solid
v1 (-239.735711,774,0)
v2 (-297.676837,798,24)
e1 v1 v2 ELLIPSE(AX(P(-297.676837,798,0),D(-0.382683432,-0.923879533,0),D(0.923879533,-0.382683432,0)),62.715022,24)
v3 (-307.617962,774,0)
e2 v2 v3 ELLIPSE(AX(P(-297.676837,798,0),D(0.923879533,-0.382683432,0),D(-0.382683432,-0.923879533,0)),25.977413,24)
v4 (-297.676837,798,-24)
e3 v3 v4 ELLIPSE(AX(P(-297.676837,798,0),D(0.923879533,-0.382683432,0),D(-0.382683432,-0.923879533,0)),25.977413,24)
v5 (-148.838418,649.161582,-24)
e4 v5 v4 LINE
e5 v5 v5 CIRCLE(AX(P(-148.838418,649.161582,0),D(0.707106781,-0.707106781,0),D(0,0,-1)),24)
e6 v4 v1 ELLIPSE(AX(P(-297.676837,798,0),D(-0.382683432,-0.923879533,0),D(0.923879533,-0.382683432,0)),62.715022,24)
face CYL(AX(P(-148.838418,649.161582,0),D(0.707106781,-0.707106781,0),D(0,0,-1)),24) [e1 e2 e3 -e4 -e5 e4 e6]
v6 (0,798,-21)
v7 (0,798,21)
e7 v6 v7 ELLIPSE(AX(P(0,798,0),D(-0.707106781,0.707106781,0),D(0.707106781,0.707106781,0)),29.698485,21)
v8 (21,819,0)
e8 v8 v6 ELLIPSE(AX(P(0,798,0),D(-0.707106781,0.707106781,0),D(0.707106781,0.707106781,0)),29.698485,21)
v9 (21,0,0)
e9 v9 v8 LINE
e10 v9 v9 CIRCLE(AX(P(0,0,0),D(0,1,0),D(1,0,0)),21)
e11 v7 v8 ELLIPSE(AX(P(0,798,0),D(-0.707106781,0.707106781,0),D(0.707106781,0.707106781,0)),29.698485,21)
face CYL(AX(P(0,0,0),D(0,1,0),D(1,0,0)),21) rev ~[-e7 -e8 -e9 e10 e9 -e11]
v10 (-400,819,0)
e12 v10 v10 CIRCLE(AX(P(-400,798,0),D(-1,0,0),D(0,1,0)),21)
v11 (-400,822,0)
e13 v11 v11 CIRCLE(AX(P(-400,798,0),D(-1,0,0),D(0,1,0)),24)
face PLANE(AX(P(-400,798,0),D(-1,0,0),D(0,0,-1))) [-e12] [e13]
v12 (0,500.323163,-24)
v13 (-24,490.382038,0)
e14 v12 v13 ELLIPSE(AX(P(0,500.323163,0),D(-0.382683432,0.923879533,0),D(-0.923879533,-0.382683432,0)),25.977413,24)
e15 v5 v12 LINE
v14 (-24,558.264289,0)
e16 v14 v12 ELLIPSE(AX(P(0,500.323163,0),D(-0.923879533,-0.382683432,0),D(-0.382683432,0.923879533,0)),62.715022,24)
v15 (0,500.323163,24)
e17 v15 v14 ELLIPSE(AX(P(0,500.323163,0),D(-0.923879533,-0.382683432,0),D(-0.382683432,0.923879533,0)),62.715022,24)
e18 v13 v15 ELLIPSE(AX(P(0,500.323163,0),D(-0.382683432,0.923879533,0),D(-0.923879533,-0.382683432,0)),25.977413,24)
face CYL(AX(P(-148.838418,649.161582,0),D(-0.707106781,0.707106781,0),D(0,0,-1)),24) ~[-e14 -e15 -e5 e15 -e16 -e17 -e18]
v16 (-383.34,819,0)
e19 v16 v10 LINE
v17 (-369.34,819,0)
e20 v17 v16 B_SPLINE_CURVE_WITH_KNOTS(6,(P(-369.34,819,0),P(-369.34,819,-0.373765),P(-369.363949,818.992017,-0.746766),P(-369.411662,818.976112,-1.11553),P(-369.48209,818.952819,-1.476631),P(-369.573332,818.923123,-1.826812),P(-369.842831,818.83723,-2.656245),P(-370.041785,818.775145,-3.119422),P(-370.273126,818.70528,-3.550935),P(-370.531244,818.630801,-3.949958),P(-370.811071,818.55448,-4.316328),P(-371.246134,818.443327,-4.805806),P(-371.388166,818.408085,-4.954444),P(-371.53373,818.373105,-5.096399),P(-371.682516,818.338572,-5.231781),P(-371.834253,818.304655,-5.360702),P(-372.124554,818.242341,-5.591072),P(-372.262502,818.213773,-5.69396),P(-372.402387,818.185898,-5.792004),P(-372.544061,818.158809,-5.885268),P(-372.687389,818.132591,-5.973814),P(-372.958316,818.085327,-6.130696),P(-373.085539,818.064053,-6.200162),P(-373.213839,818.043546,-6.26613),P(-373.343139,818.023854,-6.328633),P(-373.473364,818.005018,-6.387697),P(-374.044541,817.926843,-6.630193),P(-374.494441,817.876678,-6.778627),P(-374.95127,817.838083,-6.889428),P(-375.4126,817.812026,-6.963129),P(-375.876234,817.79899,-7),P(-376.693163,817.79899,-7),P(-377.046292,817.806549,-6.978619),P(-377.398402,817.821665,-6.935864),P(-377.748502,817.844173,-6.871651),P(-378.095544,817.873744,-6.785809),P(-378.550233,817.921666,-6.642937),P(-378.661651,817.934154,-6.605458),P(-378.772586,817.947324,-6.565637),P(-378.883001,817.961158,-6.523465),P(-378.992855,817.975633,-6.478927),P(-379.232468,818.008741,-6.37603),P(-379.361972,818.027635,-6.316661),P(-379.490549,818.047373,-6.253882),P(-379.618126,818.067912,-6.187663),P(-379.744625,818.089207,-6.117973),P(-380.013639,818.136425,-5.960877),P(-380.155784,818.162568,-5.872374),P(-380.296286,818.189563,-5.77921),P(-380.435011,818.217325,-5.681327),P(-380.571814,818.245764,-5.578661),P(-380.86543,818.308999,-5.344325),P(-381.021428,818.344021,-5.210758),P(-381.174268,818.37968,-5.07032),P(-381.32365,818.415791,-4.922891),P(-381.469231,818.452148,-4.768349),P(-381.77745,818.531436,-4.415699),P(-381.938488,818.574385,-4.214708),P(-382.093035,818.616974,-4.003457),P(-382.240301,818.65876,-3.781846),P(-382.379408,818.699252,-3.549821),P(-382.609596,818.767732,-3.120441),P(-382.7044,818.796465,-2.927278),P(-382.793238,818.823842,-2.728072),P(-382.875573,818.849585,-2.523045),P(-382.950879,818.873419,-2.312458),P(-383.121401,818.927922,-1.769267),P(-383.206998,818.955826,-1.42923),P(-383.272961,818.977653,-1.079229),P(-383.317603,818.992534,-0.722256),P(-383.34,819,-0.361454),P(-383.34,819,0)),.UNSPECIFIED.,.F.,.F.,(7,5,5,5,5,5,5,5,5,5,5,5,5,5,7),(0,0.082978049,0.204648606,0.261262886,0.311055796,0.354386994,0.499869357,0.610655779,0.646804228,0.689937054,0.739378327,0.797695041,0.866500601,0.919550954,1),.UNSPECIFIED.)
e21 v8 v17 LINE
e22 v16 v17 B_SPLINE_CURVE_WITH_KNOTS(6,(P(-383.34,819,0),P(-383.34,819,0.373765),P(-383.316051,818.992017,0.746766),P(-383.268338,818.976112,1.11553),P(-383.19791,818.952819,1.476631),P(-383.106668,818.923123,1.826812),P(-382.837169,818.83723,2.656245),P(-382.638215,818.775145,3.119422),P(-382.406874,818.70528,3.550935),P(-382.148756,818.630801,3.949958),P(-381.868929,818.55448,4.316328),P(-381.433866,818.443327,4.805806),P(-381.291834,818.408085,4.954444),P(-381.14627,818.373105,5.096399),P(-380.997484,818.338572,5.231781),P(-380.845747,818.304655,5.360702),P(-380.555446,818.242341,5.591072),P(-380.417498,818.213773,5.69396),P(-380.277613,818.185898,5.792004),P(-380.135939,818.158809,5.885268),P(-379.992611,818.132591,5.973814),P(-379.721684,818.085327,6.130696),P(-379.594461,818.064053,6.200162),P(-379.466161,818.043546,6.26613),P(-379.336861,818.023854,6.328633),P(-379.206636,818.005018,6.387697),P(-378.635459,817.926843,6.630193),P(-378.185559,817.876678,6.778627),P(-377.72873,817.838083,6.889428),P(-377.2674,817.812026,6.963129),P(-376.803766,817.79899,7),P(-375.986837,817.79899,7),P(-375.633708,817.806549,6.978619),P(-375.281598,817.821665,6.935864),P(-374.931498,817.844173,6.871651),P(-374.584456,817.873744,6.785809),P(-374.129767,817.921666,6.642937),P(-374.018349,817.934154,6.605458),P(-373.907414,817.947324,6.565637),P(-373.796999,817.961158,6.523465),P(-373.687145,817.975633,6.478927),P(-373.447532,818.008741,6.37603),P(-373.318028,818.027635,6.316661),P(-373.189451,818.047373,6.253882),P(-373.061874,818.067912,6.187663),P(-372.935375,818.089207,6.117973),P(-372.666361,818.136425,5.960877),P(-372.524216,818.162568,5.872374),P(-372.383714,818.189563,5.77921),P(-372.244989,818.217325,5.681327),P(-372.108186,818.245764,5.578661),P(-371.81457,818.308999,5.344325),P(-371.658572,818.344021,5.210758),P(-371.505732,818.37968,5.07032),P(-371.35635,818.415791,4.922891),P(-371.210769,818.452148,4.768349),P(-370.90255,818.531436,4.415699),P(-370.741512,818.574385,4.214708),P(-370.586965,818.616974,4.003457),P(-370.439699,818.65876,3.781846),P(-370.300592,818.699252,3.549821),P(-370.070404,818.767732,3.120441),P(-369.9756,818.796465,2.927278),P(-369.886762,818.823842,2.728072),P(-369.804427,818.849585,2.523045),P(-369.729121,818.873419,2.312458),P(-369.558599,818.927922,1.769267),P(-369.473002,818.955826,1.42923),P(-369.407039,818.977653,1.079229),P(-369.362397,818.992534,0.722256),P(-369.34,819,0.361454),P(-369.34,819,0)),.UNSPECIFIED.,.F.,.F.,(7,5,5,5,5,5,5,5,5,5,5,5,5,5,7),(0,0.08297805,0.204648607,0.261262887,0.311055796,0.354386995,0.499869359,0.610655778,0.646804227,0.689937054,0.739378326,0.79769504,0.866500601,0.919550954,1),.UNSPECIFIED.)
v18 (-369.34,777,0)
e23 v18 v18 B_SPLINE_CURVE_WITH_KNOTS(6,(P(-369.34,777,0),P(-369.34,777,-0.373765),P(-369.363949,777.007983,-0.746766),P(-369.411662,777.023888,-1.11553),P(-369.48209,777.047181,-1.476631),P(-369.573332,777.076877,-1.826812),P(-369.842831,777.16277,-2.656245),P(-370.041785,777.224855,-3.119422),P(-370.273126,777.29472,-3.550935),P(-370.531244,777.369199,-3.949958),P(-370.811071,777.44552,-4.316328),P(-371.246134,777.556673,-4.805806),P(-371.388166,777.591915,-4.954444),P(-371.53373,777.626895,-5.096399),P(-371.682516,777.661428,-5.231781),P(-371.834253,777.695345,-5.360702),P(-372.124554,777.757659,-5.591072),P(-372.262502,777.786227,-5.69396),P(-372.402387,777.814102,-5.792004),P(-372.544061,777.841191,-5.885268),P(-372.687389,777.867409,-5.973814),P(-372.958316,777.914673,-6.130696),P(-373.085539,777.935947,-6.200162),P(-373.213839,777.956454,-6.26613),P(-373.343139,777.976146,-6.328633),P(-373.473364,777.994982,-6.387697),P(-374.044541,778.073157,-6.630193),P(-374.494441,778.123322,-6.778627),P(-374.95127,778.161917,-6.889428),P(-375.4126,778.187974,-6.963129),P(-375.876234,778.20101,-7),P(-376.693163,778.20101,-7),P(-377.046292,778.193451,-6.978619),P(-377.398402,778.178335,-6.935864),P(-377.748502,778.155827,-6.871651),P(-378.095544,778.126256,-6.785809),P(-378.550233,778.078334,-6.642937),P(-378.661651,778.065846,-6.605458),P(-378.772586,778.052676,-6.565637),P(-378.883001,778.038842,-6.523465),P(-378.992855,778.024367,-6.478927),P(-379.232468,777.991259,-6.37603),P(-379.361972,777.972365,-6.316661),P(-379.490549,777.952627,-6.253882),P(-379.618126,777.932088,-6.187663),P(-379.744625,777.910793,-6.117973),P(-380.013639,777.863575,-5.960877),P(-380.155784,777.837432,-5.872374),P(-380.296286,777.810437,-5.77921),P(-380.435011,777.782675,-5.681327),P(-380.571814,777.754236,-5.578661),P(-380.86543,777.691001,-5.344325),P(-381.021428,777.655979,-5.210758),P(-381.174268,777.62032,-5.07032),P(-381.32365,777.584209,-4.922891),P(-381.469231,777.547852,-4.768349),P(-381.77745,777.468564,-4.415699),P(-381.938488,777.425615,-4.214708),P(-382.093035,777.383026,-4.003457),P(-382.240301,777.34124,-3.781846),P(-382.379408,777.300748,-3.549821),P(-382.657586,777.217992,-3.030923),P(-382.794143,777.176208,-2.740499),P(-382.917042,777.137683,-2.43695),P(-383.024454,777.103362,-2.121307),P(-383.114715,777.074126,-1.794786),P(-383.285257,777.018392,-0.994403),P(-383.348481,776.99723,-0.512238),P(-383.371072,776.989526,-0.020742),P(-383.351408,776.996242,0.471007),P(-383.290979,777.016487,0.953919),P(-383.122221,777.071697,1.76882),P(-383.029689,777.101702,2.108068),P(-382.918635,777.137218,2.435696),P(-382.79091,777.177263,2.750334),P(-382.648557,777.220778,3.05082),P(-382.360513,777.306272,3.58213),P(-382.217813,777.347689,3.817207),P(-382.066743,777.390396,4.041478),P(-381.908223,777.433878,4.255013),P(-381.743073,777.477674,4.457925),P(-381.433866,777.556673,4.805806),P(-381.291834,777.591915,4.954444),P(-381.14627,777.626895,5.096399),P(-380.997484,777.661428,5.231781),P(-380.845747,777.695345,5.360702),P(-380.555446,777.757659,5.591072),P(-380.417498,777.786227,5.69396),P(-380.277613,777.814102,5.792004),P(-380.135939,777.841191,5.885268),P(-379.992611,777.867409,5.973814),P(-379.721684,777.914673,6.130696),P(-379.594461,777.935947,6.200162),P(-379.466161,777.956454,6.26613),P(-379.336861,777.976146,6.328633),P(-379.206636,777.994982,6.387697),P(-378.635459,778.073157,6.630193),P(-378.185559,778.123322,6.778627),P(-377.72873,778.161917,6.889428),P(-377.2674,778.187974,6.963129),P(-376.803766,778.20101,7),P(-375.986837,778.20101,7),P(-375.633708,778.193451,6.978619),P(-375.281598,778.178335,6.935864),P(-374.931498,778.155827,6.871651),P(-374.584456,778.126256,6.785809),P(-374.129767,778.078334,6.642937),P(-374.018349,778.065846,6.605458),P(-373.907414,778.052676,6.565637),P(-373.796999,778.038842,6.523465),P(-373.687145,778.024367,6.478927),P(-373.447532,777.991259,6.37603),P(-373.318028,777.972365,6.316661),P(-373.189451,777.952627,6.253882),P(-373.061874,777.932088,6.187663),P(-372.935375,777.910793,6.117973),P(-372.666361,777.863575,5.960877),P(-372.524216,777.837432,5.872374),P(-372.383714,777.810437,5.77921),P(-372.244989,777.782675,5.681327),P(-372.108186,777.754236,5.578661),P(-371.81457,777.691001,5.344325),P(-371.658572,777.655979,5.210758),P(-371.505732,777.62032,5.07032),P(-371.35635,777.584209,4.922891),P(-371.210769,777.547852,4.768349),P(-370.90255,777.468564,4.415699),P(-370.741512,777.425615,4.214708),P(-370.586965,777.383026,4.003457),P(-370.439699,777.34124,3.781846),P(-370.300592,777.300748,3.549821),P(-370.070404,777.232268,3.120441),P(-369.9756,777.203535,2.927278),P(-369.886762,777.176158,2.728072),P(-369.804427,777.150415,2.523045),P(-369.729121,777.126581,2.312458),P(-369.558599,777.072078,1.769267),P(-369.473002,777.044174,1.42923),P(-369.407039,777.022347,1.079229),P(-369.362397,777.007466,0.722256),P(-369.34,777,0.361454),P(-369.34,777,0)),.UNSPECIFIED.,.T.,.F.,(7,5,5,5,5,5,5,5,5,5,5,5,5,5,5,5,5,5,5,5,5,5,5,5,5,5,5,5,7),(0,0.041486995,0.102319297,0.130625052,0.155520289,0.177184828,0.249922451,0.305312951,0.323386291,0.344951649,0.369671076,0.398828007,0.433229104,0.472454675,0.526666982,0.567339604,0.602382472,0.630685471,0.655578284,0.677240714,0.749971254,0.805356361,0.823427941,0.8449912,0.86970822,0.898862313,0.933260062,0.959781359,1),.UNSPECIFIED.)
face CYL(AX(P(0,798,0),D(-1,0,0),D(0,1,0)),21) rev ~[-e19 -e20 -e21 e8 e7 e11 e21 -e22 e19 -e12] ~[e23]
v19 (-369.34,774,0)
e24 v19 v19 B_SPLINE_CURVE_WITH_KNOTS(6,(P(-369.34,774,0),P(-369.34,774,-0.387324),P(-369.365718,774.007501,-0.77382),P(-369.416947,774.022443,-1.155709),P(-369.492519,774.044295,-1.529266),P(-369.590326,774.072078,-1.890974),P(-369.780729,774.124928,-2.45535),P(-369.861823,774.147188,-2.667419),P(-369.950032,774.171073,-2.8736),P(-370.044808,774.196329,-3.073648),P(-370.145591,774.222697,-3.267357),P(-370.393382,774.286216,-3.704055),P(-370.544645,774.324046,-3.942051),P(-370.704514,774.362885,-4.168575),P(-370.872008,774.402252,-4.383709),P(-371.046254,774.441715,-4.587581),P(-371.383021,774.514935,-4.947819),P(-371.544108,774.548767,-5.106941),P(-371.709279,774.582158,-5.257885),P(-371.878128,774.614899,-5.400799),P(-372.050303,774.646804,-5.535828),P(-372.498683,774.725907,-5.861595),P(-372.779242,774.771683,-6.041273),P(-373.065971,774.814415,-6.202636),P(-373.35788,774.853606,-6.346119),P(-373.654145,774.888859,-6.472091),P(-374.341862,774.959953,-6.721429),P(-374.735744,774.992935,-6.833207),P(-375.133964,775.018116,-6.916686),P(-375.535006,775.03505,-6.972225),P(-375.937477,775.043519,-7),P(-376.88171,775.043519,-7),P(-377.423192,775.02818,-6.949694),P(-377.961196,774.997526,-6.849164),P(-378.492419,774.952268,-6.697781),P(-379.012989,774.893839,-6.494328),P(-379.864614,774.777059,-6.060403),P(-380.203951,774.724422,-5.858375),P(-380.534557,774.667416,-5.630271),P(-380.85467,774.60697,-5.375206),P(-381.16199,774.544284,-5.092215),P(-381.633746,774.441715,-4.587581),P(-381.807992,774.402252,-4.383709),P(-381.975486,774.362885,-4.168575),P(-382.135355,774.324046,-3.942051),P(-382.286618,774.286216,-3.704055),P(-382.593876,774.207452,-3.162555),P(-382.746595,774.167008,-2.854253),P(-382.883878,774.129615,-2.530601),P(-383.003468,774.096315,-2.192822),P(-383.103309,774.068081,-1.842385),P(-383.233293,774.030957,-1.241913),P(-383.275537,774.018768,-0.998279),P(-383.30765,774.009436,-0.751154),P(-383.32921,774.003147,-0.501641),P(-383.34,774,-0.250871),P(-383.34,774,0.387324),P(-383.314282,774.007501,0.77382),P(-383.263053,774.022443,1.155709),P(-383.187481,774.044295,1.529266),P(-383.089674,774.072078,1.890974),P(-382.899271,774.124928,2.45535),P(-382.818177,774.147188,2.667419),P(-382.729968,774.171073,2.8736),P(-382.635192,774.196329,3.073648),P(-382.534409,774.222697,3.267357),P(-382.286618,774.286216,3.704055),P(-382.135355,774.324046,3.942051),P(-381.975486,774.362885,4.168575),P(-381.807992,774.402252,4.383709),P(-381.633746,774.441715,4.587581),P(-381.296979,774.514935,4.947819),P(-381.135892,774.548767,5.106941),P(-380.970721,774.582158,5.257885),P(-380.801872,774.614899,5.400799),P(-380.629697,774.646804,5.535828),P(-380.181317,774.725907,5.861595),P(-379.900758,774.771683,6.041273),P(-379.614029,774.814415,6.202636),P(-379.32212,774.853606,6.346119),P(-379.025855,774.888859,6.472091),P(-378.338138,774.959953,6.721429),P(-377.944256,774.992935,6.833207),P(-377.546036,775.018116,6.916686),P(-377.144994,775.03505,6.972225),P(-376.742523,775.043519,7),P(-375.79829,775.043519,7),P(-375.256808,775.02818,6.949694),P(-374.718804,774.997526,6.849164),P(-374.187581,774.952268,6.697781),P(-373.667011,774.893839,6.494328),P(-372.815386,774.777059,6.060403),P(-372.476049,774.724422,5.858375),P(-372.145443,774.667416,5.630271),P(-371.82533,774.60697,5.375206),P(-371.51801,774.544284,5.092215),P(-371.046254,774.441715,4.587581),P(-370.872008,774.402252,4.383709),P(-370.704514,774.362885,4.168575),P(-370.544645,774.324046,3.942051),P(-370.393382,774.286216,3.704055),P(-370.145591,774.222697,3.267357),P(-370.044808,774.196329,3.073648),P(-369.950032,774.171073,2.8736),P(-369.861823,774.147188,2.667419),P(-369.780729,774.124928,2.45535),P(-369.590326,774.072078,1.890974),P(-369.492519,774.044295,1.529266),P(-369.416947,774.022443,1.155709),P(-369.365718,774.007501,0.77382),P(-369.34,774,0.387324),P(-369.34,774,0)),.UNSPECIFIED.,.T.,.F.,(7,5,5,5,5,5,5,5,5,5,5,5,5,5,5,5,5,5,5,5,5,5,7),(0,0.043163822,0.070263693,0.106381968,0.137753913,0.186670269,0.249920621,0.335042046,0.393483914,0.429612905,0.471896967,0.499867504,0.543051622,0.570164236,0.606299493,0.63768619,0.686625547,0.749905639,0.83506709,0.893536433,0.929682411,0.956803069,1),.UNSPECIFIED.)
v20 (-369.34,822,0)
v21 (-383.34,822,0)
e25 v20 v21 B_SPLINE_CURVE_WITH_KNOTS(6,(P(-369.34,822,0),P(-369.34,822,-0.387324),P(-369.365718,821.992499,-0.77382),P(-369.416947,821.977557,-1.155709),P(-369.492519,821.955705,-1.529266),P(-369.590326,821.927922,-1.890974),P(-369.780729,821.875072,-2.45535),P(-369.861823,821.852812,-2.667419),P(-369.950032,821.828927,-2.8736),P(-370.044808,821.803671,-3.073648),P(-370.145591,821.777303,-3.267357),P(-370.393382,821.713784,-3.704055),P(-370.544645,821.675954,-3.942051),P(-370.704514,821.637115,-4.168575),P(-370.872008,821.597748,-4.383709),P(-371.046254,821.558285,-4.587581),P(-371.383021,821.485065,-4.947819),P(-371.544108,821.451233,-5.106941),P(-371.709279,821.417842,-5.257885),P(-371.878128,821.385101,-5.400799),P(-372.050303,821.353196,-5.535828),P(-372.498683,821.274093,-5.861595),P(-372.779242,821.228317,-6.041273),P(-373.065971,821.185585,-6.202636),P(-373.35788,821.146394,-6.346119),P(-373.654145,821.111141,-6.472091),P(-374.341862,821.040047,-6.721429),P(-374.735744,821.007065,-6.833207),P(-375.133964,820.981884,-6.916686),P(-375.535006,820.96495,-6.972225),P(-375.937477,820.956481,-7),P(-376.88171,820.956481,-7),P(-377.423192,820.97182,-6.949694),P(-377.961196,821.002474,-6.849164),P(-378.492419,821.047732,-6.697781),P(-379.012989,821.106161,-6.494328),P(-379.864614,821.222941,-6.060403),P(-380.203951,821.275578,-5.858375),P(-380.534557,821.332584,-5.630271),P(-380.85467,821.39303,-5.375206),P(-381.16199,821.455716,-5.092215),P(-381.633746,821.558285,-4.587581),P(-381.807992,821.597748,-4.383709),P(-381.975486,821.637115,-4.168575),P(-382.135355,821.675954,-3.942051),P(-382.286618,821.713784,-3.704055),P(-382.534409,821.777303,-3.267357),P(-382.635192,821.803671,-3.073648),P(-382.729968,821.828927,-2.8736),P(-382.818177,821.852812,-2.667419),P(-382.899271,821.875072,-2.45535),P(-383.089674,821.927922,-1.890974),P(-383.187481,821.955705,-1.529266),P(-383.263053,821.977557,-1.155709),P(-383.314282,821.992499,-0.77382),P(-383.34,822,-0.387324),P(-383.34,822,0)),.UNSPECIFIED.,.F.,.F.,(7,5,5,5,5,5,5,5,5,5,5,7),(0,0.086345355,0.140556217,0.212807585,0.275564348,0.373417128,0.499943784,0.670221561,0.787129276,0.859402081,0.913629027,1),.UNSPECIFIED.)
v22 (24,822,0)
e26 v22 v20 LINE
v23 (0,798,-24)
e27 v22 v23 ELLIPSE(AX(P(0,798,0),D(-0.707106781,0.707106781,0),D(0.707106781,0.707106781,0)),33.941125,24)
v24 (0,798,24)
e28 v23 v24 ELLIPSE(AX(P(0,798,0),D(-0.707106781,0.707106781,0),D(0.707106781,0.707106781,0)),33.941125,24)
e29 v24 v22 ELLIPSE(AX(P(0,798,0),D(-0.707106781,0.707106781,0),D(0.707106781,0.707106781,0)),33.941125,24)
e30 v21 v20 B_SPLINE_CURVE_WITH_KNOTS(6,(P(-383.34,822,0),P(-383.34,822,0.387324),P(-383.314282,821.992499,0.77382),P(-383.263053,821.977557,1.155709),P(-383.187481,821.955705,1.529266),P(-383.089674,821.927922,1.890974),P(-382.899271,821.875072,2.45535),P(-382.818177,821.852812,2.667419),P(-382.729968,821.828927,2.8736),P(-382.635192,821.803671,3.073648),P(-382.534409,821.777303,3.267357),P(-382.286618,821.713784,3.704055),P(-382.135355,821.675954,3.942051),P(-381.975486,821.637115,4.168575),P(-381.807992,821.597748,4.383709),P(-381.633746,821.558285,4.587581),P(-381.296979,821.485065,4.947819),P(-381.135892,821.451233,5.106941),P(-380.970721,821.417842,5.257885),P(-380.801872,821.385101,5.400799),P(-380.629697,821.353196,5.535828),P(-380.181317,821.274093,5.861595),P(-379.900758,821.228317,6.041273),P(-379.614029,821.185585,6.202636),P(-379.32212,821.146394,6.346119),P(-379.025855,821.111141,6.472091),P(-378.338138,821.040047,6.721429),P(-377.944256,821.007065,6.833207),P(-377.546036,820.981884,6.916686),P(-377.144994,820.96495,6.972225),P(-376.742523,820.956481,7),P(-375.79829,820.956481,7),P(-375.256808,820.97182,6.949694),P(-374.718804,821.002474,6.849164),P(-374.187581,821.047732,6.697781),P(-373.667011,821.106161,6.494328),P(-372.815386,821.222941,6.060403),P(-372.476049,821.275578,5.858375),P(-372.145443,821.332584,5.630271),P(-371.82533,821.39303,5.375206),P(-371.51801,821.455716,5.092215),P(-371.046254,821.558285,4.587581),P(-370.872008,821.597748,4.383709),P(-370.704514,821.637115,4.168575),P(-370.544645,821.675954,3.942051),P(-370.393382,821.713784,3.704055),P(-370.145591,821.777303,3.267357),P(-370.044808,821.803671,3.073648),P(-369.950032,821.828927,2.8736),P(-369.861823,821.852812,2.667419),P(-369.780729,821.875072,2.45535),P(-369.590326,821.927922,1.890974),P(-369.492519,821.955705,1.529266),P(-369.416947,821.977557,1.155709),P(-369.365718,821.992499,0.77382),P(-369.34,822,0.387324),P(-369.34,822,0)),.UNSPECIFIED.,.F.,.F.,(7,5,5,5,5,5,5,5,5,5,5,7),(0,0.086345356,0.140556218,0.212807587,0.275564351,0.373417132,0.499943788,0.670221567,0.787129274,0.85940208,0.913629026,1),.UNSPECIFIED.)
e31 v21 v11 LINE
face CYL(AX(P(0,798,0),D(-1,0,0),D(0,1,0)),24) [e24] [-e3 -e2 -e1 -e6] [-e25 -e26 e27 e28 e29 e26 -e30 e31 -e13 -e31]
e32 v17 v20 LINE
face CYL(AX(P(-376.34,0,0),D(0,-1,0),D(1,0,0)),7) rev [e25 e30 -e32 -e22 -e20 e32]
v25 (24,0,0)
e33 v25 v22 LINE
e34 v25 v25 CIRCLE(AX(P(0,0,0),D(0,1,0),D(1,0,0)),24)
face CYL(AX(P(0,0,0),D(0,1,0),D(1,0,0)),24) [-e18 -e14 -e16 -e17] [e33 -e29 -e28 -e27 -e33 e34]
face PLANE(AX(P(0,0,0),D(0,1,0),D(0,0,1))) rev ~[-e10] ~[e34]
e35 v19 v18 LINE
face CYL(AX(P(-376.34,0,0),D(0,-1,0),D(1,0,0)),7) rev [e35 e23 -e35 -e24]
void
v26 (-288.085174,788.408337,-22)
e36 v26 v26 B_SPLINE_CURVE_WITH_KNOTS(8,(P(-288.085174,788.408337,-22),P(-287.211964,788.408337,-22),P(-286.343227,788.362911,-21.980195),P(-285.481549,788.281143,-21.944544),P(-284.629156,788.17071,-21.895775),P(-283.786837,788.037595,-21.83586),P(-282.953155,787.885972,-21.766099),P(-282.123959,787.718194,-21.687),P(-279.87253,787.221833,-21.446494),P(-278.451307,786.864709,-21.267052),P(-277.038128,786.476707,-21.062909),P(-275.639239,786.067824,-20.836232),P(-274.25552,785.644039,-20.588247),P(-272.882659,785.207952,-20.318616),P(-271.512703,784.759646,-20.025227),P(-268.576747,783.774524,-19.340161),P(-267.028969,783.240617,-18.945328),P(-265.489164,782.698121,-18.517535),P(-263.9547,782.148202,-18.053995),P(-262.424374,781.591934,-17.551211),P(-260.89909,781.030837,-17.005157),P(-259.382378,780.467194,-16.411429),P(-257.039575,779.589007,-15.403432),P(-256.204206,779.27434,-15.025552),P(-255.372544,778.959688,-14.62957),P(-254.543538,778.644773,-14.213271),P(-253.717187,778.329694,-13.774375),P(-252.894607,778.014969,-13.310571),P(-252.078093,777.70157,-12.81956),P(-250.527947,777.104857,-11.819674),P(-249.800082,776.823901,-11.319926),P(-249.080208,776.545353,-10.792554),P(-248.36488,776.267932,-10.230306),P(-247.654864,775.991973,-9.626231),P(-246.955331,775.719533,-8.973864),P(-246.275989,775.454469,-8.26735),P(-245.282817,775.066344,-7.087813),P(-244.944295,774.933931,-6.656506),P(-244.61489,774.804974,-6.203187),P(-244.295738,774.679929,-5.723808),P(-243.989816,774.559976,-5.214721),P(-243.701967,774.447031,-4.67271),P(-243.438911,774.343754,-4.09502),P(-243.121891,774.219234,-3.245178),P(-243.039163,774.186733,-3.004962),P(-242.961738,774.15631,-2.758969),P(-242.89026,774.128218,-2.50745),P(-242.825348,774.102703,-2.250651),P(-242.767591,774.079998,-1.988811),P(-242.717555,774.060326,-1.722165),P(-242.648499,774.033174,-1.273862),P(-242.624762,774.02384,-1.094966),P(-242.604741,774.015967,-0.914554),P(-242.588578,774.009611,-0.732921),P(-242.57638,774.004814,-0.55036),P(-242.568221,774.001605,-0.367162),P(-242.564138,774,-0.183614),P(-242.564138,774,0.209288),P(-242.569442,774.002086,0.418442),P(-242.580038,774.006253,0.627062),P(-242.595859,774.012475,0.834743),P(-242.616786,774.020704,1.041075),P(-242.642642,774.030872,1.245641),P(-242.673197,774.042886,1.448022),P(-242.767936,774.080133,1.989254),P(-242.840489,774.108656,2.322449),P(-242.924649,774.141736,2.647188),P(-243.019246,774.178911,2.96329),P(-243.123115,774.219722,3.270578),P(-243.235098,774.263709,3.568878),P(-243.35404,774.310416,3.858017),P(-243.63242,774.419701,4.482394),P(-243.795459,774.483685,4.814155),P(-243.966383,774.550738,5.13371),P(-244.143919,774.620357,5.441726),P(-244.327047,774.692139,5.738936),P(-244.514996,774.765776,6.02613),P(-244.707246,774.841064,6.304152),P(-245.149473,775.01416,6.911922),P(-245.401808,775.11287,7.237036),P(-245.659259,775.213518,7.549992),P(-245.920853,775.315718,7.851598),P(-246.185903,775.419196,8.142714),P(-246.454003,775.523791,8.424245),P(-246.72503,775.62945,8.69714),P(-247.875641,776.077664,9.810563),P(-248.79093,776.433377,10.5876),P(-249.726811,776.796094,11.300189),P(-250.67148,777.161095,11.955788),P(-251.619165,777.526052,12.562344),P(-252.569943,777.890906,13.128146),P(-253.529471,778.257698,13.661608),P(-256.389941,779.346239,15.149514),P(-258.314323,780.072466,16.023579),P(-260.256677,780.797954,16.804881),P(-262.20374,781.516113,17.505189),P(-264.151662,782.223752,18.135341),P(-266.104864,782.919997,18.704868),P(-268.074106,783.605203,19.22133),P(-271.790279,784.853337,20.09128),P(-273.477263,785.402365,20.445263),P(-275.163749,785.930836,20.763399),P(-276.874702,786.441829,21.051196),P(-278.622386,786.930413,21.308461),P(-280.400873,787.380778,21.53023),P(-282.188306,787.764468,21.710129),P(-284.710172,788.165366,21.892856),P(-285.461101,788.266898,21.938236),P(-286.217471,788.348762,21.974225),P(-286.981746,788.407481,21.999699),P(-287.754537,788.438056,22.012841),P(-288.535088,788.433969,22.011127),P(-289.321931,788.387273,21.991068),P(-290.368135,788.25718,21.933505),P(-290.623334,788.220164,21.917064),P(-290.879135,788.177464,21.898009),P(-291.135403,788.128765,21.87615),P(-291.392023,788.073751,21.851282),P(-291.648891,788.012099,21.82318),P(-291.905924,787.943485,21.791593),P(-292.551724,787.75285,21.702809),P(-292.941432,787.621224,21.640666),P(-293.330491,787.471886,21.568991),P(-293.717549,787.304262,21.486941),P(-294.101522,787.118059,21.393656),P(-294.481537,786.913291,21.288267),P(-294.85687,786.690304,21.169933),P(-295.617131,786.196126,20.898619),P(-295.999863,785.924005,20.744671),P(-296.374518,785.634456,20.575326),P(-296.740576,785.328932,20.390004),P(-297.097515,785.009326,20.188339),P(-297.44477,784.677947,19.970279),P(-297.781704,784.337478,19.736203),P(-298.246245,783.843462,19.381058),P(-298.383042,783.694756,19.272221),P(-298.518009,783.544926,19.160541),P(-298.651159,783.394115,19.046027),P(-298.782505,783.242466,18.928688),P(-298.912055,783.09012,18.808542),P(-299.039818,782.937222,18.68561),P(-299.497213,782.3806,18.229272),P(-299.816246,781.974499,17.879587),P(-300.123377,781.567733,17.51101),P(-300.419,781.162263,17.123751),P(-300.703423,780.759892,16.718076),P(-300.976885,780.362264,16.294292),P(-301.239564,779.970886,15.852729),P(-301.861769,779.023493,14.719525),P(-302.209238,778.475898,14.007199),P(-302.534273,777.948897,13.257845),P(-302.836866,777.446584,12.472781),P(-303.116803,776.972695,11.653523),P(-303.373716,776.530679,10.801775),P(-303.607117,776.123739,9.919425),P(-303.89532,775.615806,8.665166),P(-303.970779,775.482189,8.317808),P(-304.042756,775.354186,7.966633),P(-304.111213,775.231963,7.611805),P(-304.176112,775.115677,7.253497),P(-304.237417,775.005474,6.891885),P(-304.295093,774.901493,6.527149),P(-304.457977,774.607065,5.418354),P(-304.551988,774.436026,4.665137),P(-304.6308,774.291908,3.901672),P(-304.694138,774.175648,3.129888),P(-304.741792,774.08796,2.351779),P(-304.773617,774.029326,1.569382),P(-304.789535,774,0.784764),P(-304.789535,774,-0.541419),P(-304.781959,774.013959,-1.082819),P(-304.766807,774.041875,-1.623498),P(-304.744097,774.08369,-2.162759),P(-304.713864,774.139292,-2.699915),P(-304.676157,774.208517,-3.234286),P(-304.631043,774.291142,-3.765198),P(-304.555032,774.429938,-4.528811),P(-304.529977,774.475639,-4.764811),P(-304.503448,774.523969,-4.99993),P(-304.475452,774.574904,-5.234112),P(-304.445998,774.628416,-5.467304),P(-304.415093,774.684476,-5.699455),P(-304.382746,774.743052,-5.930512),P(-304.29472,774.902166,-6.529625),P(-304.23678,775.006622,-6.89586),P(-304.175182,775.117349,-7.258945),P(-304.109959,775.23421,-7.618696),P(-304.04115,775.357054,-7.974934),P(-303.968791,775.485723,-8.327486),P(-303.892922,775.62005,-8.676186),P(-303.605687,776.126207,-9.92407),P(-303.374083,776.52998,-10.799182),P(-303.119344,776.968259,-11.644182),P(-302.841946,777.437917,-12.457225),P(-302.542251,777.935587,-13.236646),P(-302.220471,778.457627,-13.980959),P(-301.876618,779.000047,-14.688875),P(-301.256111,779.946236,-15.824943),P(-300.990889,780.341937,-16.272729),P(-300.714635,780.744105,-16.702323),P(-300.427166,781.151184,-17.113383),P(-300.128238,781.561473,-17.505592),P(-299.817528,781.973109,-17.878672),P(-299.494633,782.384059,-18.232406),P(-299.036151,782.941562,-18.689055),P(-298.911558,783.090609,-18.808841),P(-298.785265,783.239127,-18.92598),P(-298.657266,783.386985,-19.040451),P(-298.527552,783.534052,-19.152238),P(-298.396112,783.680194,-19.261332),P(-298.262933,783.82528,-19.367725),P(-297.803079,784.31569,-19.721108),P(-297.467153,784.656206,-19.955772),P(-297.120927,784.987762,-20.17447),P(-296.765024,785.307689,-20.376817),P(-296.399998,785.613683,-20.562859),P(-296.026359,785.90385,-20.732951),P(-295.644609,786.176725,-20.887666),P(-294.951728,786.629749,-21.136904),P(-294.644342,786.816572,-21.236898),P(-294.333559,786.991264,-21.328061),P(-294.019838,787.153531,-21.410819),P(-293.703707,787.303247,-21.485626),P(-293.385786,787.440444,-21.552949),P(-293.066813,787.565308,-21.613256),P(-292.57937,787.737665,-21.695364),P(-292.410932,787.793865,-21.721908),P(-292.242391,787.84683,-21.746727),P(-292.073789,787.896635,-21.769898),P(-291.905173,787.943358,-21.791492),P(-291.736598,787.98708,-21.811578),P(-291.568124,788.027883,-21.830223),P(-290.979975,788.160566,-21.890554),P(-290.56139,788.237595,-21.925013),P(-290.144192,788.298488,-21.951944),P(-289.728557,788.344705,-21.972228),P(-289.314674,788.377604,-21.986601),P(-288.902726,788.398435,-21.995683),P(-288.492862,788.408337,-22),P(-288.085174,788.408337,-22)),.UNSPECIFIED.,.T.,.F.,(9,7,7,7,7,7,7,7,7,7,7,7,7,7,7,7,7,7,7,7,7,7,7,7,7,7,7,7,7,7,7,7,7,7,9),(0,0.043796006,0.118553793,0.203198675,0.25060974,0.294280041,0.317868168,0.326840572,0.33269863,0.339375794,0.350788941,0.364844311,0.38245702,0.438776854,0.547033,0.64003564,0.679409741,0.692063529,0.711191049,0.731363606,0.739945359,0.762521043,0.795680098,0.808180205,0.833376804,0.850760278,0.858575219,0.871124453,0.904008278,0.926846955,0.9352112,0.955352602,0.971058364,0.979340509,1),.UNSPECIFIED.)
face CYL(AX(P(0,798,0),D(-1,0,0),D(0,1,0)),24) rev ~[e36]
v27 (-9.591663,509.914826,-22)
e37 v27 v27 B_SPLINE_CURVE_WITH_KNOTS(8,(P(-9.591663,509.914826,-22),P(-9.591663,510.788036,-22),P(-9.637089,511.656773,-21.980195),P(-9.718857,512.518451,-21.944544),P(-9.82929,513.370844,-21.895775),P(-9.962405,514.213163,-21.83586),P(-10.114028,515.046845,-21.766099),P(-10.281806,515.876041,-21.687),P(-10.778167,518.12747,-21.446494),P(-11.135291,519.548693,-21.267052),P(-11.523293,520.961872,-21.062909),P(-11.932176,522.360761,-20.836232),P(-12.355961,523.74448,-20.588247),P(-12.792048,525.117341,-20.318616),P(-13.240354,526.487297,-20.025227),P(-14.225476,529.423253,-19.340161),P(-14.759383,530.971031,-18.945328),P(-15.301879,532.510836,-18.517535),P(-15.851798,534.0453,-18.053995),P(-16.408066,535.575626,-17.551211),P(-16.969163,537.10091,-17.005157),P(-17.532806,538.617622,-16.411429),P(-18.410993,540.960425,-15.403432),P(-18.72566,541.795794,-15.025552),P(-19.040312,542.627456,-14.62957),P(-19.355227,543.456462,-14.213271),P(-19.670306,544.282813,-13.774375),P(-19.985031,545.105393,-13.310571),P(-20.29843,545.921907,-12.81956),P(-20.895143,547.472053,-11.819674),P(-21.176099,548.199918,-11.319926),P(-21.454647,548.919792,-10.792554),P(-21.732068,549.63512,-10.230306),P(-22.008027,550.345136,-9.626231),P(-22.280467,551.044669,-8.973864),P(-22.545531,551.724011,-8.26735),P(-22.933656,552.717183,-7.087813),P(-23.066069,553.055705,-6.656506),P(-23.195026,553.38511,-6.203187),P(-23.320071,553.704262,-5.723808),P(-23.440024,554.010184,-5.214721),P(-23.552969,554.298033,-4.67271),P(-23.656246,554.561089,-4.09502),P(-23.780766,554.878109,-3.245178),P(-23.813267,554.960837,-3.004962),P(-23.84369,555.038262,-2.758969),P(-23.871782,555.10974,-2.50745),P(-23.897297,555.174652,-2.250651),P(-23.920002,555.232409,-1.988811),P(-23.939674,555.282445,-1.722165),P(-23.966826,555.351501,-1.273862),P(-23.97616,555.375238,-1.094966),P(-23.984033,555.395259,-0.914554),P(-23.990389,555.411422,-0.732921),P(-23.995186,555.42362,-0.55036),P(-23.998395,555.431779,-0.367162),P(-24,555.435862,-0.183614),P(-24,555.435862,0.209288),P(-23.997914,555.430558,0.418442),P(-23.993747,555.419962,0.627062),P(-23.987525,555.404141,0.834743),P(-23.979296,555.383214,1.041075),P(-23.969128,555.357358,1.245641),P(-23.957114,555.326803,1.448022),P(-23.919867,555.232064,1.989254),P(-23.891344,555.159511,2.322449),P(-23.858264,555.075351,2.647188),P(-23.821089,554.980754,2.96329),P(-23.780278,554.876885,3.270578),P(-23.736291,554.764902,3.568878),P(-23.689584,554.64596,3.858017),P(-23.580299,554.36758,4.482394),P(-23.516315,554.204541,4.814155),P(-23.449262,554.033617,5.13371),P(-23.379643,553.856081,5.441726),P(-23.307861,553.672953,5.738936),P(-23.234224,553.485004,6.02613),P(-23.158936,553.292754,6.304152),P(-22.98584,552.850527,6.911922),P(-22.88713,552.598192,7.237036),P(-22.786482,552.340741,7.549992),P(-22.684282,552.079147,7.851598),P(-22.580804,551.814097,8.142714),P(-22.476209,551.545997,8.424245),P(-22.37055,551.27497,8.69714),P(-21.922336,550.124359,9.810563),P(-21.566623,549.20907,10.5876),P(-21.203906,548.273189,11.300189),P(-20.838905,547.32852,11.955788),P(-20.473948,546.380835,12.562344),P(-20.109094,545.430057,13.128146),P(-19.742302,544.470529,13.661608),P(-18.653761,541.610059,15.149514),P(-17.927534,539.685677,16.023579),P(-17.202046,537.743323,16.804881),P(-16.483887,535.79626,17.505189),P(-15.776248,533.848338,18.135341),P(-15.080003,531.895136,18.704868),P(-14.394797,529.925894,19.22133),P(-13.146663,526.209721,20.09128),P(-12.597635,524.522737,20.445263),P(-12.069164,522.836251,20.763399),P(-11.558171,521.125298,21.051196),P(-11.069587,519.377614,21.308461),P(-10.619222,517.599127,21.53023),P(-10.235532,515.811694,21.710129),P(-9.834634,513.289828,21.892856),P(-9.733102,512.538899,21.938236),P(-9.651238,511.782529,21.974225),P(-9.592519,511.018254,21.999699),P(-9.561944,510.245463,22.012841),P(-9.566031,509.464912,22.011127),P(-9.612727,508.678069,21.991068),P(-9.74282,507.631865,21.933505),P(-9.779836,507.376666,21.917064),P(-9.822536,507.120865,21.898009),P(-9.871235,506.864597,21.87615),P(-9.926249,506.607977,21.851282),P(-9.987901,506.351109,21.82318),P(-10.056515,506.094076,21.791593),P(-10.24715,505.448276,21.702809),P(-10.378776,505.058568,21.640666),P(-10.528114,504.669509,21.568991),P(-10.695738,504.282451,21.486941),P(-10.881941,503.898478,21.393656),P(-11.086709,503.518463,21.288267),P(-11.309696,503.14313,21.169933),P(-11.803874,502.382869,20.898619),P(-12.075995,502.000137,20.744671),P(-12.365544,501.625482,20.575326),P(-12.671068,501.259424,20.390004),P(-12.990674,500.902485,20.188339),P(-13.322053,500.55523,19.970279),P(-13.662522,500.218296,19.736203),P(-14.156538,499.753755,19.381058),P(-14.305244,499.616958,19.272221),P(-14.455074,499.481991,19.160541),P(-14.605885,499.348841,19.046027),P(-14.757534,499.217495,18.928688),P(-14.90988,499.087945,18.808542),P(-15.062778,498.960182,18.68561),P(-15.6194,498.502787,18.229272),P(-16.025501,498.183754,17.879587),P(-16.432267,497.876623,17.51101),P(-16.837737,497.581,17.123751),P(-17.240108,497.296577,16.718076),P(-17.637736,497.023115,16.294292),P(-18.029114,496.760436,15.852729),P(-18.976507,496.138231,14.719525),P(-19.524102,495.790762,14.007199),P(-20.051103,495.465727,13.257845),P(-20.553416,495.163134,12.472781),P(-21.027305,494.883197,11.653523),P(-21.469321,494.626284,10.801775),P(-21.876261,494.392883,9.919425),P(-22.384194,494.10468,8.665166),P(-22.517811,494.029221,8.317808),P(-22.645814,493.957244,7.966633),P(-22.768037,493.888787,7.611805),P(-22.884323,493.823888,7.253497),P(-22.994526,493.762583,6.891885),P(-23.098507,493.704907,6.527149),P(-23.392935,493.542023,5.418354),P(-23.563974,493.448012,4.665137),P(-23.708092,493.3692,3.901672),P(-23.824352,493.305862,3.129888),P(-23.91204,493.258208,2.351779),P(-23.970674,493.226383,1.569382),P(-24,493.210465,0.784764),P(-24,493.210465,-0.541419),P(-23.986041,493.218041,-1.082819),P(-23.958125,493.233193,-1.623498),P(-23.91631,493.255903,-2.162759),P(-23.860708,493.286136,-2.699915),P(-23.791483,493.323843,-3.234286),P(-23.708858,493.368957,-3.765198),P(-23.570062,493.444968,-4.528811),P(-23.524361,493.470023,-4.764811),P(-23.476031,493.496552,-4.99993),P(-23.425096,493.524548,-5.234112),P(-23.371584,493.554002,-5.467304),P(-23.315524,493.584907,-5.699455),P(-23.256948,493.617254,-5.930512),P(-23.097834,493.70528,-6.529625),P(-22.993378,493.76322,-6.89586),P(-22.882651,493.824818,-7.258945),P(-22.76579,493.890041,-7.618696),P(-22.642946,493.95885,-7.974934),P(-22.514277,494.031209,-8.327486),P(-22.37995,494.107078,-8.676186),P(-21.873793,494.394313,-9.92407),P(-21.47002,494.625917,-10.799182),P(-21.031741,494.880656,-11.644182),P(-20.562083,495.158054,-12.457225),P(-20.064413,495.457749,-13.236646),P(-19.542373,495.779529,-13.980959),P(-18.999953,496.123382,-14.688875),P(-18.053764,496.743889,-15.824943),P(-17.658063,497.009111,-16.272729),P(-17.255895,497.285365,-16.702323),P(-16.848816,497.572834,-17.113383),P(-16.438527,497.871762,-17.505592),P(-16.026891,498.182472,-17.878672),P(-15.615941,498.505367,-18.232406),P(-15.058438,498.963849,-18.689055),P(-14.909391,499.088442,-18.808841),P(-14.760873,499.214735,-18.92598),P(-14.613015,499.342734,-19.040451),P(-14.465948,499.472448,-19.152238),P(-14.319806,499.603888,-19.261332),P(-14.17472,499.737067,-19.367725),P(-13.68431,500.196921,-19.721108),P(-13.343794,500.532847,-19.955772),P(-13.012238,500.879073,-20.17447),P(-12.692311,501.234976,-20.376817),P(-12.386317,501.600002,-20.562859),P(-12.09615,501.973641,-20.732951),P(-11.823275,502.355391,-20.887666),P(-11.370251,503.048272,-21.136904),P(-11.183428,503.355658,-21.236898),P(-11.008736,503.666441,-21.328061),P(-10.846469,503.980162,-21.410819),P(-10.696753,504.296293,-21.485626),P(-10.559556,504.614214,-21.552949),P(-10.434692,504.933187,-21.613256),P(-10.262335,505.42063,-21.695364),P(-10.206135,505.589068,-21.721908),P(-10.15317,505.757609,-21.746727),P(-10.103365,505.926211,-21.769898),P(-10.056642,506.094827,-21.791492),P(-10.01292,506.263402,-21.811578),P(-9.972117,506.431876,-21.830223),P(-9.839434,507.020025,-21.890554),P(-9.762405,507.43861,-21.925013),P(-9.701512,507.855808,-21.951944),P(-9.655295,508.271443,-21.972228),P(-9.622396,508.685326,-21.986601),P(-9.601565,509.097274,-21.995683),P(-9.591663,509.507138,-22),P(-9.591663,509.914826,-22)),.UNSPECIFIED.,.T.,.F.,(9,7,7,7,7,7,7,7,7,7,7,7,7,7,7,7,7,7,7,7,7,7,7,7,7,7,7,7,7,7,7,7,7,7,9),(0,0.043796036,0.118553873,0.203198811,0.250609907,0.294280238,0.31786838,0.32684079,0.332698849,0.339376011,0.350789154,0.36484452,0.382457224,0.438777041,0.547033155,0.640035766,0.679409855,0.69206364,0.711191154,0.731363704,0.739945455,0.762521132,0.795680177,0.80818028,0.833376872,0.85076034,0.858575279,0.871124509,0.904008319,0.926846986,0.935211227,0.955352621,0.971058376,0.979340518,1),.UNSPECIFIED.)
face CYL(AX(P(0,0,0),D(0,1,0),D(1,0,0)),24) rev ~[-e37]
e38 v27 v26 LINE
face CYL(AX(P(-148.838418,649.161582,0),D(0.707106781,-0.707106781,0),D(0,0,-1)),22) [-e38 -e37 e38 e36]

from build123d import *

# Parameters (mm, degrees)
SKETCH2_R                       = 24
SKETCH2_R_2                     = 21
EXTRUDE_THIN4_REACH             = 583.242
SKETCH3_R                       = 24
SKETCH3_R_2                     = 22
EXTRUDE_THIN4_DIRECTION_2_REACH = 301.813
SKETCH4_R                       = 7
CUT_EXTRUDE1_DEPTH              = 823


with BuildPart() as part:
    # Sweep-Thin1: sweep along a path in Sketch1
    with BuildLine(Plane.XY) as sweep_thin1_path:
        Line((0, 0), (0, 798))
        Line((0, 798), (-400, 798))
    # Sketch2 → Sweep-Thin1 (sweep)
    with BuildSketch(Plane(origin=(0, 0, 0), x_dir=(1, 0, 0), z_dir=(0, 1, 0))):
        Circle(SKETCH2_R)
        Circle(SKETCH2_R_2, mode=Mode.SUBTRACT)
    sweep(path=sweep_thin1_path.line, transition=Transition.RIGHT)

    # Sketch3 → Extrude-Thin4 (add, up to next)
    with BuildSketch(Plane(origin=(-399, 399, 0), x_dir=(0, 0, -1), z_dir=(0.707106781, -0.707106781, 0)), mode=Mode.PRIVATE) as extrude_thin4_sk1:
        with Locations((0, 353.781901472)):
            Circle(SKETCH3_R)
        with Locations((0, 353.781901472)):
            Circle(SKETCH3_R_2, mode=Mode.SUBTRACT)
    extrude_thin4_tool1 = extrude(extrude_thin4_sk1.sketch, amount=EXTRUDE_THIN4_REACH, mode=Mode.PRIVATE) - part.part
    add(extrude_thin4_tool1.solids().sort_by_distance((-148.838418, 649.161582, 23.321177))[0])

    # Sketch3 → Extrude-Thin4 direction 2 (add, up to next)
    with BuildSketch(Plane(origin=(-399, 399, 0), x_dir=(0, 0, -1), z_dir=(0.707106781, -0.707106781, 0)), mode=Mode.PRIVATE) as extrude_thin4_direction_2_sk1:
        with Locations((0, 353.781901472)):
            Circle(SKETCH3_R)
        with Locations((0, 353.781901472)):
            Circle(SKETCH3_R_2, mode=Mode.SUBTRACT)
    extrude_thin4_direction_2_tool1 = extrude(extrude_thin4_direction_2_sk1.sketch, amount=-EXTRUDE_THIN4_DIRECTION_2_REACH, mode=Mode.PRIVATE) - part.part
    add(extrude_thin4_direction_2_tool1.solids().sort_by_distance((-148.838418, 649.161582, 23.321177))[0])

    # Sketch4 → Cut-Extrude1 (cut, through all)
    with BuildSketch(Plane(origin=(0, 0, 0), x_dir=(1, 0, 0), z_dir=(0, 1, 0))):
        with Locations((-376.34, 0)):
            Circle(SKETCH4_R)
    extrude(amount=CUT_EXTRUDE1_DEPTH, mode=Mode.SUBTRACT)


solid = part.part
